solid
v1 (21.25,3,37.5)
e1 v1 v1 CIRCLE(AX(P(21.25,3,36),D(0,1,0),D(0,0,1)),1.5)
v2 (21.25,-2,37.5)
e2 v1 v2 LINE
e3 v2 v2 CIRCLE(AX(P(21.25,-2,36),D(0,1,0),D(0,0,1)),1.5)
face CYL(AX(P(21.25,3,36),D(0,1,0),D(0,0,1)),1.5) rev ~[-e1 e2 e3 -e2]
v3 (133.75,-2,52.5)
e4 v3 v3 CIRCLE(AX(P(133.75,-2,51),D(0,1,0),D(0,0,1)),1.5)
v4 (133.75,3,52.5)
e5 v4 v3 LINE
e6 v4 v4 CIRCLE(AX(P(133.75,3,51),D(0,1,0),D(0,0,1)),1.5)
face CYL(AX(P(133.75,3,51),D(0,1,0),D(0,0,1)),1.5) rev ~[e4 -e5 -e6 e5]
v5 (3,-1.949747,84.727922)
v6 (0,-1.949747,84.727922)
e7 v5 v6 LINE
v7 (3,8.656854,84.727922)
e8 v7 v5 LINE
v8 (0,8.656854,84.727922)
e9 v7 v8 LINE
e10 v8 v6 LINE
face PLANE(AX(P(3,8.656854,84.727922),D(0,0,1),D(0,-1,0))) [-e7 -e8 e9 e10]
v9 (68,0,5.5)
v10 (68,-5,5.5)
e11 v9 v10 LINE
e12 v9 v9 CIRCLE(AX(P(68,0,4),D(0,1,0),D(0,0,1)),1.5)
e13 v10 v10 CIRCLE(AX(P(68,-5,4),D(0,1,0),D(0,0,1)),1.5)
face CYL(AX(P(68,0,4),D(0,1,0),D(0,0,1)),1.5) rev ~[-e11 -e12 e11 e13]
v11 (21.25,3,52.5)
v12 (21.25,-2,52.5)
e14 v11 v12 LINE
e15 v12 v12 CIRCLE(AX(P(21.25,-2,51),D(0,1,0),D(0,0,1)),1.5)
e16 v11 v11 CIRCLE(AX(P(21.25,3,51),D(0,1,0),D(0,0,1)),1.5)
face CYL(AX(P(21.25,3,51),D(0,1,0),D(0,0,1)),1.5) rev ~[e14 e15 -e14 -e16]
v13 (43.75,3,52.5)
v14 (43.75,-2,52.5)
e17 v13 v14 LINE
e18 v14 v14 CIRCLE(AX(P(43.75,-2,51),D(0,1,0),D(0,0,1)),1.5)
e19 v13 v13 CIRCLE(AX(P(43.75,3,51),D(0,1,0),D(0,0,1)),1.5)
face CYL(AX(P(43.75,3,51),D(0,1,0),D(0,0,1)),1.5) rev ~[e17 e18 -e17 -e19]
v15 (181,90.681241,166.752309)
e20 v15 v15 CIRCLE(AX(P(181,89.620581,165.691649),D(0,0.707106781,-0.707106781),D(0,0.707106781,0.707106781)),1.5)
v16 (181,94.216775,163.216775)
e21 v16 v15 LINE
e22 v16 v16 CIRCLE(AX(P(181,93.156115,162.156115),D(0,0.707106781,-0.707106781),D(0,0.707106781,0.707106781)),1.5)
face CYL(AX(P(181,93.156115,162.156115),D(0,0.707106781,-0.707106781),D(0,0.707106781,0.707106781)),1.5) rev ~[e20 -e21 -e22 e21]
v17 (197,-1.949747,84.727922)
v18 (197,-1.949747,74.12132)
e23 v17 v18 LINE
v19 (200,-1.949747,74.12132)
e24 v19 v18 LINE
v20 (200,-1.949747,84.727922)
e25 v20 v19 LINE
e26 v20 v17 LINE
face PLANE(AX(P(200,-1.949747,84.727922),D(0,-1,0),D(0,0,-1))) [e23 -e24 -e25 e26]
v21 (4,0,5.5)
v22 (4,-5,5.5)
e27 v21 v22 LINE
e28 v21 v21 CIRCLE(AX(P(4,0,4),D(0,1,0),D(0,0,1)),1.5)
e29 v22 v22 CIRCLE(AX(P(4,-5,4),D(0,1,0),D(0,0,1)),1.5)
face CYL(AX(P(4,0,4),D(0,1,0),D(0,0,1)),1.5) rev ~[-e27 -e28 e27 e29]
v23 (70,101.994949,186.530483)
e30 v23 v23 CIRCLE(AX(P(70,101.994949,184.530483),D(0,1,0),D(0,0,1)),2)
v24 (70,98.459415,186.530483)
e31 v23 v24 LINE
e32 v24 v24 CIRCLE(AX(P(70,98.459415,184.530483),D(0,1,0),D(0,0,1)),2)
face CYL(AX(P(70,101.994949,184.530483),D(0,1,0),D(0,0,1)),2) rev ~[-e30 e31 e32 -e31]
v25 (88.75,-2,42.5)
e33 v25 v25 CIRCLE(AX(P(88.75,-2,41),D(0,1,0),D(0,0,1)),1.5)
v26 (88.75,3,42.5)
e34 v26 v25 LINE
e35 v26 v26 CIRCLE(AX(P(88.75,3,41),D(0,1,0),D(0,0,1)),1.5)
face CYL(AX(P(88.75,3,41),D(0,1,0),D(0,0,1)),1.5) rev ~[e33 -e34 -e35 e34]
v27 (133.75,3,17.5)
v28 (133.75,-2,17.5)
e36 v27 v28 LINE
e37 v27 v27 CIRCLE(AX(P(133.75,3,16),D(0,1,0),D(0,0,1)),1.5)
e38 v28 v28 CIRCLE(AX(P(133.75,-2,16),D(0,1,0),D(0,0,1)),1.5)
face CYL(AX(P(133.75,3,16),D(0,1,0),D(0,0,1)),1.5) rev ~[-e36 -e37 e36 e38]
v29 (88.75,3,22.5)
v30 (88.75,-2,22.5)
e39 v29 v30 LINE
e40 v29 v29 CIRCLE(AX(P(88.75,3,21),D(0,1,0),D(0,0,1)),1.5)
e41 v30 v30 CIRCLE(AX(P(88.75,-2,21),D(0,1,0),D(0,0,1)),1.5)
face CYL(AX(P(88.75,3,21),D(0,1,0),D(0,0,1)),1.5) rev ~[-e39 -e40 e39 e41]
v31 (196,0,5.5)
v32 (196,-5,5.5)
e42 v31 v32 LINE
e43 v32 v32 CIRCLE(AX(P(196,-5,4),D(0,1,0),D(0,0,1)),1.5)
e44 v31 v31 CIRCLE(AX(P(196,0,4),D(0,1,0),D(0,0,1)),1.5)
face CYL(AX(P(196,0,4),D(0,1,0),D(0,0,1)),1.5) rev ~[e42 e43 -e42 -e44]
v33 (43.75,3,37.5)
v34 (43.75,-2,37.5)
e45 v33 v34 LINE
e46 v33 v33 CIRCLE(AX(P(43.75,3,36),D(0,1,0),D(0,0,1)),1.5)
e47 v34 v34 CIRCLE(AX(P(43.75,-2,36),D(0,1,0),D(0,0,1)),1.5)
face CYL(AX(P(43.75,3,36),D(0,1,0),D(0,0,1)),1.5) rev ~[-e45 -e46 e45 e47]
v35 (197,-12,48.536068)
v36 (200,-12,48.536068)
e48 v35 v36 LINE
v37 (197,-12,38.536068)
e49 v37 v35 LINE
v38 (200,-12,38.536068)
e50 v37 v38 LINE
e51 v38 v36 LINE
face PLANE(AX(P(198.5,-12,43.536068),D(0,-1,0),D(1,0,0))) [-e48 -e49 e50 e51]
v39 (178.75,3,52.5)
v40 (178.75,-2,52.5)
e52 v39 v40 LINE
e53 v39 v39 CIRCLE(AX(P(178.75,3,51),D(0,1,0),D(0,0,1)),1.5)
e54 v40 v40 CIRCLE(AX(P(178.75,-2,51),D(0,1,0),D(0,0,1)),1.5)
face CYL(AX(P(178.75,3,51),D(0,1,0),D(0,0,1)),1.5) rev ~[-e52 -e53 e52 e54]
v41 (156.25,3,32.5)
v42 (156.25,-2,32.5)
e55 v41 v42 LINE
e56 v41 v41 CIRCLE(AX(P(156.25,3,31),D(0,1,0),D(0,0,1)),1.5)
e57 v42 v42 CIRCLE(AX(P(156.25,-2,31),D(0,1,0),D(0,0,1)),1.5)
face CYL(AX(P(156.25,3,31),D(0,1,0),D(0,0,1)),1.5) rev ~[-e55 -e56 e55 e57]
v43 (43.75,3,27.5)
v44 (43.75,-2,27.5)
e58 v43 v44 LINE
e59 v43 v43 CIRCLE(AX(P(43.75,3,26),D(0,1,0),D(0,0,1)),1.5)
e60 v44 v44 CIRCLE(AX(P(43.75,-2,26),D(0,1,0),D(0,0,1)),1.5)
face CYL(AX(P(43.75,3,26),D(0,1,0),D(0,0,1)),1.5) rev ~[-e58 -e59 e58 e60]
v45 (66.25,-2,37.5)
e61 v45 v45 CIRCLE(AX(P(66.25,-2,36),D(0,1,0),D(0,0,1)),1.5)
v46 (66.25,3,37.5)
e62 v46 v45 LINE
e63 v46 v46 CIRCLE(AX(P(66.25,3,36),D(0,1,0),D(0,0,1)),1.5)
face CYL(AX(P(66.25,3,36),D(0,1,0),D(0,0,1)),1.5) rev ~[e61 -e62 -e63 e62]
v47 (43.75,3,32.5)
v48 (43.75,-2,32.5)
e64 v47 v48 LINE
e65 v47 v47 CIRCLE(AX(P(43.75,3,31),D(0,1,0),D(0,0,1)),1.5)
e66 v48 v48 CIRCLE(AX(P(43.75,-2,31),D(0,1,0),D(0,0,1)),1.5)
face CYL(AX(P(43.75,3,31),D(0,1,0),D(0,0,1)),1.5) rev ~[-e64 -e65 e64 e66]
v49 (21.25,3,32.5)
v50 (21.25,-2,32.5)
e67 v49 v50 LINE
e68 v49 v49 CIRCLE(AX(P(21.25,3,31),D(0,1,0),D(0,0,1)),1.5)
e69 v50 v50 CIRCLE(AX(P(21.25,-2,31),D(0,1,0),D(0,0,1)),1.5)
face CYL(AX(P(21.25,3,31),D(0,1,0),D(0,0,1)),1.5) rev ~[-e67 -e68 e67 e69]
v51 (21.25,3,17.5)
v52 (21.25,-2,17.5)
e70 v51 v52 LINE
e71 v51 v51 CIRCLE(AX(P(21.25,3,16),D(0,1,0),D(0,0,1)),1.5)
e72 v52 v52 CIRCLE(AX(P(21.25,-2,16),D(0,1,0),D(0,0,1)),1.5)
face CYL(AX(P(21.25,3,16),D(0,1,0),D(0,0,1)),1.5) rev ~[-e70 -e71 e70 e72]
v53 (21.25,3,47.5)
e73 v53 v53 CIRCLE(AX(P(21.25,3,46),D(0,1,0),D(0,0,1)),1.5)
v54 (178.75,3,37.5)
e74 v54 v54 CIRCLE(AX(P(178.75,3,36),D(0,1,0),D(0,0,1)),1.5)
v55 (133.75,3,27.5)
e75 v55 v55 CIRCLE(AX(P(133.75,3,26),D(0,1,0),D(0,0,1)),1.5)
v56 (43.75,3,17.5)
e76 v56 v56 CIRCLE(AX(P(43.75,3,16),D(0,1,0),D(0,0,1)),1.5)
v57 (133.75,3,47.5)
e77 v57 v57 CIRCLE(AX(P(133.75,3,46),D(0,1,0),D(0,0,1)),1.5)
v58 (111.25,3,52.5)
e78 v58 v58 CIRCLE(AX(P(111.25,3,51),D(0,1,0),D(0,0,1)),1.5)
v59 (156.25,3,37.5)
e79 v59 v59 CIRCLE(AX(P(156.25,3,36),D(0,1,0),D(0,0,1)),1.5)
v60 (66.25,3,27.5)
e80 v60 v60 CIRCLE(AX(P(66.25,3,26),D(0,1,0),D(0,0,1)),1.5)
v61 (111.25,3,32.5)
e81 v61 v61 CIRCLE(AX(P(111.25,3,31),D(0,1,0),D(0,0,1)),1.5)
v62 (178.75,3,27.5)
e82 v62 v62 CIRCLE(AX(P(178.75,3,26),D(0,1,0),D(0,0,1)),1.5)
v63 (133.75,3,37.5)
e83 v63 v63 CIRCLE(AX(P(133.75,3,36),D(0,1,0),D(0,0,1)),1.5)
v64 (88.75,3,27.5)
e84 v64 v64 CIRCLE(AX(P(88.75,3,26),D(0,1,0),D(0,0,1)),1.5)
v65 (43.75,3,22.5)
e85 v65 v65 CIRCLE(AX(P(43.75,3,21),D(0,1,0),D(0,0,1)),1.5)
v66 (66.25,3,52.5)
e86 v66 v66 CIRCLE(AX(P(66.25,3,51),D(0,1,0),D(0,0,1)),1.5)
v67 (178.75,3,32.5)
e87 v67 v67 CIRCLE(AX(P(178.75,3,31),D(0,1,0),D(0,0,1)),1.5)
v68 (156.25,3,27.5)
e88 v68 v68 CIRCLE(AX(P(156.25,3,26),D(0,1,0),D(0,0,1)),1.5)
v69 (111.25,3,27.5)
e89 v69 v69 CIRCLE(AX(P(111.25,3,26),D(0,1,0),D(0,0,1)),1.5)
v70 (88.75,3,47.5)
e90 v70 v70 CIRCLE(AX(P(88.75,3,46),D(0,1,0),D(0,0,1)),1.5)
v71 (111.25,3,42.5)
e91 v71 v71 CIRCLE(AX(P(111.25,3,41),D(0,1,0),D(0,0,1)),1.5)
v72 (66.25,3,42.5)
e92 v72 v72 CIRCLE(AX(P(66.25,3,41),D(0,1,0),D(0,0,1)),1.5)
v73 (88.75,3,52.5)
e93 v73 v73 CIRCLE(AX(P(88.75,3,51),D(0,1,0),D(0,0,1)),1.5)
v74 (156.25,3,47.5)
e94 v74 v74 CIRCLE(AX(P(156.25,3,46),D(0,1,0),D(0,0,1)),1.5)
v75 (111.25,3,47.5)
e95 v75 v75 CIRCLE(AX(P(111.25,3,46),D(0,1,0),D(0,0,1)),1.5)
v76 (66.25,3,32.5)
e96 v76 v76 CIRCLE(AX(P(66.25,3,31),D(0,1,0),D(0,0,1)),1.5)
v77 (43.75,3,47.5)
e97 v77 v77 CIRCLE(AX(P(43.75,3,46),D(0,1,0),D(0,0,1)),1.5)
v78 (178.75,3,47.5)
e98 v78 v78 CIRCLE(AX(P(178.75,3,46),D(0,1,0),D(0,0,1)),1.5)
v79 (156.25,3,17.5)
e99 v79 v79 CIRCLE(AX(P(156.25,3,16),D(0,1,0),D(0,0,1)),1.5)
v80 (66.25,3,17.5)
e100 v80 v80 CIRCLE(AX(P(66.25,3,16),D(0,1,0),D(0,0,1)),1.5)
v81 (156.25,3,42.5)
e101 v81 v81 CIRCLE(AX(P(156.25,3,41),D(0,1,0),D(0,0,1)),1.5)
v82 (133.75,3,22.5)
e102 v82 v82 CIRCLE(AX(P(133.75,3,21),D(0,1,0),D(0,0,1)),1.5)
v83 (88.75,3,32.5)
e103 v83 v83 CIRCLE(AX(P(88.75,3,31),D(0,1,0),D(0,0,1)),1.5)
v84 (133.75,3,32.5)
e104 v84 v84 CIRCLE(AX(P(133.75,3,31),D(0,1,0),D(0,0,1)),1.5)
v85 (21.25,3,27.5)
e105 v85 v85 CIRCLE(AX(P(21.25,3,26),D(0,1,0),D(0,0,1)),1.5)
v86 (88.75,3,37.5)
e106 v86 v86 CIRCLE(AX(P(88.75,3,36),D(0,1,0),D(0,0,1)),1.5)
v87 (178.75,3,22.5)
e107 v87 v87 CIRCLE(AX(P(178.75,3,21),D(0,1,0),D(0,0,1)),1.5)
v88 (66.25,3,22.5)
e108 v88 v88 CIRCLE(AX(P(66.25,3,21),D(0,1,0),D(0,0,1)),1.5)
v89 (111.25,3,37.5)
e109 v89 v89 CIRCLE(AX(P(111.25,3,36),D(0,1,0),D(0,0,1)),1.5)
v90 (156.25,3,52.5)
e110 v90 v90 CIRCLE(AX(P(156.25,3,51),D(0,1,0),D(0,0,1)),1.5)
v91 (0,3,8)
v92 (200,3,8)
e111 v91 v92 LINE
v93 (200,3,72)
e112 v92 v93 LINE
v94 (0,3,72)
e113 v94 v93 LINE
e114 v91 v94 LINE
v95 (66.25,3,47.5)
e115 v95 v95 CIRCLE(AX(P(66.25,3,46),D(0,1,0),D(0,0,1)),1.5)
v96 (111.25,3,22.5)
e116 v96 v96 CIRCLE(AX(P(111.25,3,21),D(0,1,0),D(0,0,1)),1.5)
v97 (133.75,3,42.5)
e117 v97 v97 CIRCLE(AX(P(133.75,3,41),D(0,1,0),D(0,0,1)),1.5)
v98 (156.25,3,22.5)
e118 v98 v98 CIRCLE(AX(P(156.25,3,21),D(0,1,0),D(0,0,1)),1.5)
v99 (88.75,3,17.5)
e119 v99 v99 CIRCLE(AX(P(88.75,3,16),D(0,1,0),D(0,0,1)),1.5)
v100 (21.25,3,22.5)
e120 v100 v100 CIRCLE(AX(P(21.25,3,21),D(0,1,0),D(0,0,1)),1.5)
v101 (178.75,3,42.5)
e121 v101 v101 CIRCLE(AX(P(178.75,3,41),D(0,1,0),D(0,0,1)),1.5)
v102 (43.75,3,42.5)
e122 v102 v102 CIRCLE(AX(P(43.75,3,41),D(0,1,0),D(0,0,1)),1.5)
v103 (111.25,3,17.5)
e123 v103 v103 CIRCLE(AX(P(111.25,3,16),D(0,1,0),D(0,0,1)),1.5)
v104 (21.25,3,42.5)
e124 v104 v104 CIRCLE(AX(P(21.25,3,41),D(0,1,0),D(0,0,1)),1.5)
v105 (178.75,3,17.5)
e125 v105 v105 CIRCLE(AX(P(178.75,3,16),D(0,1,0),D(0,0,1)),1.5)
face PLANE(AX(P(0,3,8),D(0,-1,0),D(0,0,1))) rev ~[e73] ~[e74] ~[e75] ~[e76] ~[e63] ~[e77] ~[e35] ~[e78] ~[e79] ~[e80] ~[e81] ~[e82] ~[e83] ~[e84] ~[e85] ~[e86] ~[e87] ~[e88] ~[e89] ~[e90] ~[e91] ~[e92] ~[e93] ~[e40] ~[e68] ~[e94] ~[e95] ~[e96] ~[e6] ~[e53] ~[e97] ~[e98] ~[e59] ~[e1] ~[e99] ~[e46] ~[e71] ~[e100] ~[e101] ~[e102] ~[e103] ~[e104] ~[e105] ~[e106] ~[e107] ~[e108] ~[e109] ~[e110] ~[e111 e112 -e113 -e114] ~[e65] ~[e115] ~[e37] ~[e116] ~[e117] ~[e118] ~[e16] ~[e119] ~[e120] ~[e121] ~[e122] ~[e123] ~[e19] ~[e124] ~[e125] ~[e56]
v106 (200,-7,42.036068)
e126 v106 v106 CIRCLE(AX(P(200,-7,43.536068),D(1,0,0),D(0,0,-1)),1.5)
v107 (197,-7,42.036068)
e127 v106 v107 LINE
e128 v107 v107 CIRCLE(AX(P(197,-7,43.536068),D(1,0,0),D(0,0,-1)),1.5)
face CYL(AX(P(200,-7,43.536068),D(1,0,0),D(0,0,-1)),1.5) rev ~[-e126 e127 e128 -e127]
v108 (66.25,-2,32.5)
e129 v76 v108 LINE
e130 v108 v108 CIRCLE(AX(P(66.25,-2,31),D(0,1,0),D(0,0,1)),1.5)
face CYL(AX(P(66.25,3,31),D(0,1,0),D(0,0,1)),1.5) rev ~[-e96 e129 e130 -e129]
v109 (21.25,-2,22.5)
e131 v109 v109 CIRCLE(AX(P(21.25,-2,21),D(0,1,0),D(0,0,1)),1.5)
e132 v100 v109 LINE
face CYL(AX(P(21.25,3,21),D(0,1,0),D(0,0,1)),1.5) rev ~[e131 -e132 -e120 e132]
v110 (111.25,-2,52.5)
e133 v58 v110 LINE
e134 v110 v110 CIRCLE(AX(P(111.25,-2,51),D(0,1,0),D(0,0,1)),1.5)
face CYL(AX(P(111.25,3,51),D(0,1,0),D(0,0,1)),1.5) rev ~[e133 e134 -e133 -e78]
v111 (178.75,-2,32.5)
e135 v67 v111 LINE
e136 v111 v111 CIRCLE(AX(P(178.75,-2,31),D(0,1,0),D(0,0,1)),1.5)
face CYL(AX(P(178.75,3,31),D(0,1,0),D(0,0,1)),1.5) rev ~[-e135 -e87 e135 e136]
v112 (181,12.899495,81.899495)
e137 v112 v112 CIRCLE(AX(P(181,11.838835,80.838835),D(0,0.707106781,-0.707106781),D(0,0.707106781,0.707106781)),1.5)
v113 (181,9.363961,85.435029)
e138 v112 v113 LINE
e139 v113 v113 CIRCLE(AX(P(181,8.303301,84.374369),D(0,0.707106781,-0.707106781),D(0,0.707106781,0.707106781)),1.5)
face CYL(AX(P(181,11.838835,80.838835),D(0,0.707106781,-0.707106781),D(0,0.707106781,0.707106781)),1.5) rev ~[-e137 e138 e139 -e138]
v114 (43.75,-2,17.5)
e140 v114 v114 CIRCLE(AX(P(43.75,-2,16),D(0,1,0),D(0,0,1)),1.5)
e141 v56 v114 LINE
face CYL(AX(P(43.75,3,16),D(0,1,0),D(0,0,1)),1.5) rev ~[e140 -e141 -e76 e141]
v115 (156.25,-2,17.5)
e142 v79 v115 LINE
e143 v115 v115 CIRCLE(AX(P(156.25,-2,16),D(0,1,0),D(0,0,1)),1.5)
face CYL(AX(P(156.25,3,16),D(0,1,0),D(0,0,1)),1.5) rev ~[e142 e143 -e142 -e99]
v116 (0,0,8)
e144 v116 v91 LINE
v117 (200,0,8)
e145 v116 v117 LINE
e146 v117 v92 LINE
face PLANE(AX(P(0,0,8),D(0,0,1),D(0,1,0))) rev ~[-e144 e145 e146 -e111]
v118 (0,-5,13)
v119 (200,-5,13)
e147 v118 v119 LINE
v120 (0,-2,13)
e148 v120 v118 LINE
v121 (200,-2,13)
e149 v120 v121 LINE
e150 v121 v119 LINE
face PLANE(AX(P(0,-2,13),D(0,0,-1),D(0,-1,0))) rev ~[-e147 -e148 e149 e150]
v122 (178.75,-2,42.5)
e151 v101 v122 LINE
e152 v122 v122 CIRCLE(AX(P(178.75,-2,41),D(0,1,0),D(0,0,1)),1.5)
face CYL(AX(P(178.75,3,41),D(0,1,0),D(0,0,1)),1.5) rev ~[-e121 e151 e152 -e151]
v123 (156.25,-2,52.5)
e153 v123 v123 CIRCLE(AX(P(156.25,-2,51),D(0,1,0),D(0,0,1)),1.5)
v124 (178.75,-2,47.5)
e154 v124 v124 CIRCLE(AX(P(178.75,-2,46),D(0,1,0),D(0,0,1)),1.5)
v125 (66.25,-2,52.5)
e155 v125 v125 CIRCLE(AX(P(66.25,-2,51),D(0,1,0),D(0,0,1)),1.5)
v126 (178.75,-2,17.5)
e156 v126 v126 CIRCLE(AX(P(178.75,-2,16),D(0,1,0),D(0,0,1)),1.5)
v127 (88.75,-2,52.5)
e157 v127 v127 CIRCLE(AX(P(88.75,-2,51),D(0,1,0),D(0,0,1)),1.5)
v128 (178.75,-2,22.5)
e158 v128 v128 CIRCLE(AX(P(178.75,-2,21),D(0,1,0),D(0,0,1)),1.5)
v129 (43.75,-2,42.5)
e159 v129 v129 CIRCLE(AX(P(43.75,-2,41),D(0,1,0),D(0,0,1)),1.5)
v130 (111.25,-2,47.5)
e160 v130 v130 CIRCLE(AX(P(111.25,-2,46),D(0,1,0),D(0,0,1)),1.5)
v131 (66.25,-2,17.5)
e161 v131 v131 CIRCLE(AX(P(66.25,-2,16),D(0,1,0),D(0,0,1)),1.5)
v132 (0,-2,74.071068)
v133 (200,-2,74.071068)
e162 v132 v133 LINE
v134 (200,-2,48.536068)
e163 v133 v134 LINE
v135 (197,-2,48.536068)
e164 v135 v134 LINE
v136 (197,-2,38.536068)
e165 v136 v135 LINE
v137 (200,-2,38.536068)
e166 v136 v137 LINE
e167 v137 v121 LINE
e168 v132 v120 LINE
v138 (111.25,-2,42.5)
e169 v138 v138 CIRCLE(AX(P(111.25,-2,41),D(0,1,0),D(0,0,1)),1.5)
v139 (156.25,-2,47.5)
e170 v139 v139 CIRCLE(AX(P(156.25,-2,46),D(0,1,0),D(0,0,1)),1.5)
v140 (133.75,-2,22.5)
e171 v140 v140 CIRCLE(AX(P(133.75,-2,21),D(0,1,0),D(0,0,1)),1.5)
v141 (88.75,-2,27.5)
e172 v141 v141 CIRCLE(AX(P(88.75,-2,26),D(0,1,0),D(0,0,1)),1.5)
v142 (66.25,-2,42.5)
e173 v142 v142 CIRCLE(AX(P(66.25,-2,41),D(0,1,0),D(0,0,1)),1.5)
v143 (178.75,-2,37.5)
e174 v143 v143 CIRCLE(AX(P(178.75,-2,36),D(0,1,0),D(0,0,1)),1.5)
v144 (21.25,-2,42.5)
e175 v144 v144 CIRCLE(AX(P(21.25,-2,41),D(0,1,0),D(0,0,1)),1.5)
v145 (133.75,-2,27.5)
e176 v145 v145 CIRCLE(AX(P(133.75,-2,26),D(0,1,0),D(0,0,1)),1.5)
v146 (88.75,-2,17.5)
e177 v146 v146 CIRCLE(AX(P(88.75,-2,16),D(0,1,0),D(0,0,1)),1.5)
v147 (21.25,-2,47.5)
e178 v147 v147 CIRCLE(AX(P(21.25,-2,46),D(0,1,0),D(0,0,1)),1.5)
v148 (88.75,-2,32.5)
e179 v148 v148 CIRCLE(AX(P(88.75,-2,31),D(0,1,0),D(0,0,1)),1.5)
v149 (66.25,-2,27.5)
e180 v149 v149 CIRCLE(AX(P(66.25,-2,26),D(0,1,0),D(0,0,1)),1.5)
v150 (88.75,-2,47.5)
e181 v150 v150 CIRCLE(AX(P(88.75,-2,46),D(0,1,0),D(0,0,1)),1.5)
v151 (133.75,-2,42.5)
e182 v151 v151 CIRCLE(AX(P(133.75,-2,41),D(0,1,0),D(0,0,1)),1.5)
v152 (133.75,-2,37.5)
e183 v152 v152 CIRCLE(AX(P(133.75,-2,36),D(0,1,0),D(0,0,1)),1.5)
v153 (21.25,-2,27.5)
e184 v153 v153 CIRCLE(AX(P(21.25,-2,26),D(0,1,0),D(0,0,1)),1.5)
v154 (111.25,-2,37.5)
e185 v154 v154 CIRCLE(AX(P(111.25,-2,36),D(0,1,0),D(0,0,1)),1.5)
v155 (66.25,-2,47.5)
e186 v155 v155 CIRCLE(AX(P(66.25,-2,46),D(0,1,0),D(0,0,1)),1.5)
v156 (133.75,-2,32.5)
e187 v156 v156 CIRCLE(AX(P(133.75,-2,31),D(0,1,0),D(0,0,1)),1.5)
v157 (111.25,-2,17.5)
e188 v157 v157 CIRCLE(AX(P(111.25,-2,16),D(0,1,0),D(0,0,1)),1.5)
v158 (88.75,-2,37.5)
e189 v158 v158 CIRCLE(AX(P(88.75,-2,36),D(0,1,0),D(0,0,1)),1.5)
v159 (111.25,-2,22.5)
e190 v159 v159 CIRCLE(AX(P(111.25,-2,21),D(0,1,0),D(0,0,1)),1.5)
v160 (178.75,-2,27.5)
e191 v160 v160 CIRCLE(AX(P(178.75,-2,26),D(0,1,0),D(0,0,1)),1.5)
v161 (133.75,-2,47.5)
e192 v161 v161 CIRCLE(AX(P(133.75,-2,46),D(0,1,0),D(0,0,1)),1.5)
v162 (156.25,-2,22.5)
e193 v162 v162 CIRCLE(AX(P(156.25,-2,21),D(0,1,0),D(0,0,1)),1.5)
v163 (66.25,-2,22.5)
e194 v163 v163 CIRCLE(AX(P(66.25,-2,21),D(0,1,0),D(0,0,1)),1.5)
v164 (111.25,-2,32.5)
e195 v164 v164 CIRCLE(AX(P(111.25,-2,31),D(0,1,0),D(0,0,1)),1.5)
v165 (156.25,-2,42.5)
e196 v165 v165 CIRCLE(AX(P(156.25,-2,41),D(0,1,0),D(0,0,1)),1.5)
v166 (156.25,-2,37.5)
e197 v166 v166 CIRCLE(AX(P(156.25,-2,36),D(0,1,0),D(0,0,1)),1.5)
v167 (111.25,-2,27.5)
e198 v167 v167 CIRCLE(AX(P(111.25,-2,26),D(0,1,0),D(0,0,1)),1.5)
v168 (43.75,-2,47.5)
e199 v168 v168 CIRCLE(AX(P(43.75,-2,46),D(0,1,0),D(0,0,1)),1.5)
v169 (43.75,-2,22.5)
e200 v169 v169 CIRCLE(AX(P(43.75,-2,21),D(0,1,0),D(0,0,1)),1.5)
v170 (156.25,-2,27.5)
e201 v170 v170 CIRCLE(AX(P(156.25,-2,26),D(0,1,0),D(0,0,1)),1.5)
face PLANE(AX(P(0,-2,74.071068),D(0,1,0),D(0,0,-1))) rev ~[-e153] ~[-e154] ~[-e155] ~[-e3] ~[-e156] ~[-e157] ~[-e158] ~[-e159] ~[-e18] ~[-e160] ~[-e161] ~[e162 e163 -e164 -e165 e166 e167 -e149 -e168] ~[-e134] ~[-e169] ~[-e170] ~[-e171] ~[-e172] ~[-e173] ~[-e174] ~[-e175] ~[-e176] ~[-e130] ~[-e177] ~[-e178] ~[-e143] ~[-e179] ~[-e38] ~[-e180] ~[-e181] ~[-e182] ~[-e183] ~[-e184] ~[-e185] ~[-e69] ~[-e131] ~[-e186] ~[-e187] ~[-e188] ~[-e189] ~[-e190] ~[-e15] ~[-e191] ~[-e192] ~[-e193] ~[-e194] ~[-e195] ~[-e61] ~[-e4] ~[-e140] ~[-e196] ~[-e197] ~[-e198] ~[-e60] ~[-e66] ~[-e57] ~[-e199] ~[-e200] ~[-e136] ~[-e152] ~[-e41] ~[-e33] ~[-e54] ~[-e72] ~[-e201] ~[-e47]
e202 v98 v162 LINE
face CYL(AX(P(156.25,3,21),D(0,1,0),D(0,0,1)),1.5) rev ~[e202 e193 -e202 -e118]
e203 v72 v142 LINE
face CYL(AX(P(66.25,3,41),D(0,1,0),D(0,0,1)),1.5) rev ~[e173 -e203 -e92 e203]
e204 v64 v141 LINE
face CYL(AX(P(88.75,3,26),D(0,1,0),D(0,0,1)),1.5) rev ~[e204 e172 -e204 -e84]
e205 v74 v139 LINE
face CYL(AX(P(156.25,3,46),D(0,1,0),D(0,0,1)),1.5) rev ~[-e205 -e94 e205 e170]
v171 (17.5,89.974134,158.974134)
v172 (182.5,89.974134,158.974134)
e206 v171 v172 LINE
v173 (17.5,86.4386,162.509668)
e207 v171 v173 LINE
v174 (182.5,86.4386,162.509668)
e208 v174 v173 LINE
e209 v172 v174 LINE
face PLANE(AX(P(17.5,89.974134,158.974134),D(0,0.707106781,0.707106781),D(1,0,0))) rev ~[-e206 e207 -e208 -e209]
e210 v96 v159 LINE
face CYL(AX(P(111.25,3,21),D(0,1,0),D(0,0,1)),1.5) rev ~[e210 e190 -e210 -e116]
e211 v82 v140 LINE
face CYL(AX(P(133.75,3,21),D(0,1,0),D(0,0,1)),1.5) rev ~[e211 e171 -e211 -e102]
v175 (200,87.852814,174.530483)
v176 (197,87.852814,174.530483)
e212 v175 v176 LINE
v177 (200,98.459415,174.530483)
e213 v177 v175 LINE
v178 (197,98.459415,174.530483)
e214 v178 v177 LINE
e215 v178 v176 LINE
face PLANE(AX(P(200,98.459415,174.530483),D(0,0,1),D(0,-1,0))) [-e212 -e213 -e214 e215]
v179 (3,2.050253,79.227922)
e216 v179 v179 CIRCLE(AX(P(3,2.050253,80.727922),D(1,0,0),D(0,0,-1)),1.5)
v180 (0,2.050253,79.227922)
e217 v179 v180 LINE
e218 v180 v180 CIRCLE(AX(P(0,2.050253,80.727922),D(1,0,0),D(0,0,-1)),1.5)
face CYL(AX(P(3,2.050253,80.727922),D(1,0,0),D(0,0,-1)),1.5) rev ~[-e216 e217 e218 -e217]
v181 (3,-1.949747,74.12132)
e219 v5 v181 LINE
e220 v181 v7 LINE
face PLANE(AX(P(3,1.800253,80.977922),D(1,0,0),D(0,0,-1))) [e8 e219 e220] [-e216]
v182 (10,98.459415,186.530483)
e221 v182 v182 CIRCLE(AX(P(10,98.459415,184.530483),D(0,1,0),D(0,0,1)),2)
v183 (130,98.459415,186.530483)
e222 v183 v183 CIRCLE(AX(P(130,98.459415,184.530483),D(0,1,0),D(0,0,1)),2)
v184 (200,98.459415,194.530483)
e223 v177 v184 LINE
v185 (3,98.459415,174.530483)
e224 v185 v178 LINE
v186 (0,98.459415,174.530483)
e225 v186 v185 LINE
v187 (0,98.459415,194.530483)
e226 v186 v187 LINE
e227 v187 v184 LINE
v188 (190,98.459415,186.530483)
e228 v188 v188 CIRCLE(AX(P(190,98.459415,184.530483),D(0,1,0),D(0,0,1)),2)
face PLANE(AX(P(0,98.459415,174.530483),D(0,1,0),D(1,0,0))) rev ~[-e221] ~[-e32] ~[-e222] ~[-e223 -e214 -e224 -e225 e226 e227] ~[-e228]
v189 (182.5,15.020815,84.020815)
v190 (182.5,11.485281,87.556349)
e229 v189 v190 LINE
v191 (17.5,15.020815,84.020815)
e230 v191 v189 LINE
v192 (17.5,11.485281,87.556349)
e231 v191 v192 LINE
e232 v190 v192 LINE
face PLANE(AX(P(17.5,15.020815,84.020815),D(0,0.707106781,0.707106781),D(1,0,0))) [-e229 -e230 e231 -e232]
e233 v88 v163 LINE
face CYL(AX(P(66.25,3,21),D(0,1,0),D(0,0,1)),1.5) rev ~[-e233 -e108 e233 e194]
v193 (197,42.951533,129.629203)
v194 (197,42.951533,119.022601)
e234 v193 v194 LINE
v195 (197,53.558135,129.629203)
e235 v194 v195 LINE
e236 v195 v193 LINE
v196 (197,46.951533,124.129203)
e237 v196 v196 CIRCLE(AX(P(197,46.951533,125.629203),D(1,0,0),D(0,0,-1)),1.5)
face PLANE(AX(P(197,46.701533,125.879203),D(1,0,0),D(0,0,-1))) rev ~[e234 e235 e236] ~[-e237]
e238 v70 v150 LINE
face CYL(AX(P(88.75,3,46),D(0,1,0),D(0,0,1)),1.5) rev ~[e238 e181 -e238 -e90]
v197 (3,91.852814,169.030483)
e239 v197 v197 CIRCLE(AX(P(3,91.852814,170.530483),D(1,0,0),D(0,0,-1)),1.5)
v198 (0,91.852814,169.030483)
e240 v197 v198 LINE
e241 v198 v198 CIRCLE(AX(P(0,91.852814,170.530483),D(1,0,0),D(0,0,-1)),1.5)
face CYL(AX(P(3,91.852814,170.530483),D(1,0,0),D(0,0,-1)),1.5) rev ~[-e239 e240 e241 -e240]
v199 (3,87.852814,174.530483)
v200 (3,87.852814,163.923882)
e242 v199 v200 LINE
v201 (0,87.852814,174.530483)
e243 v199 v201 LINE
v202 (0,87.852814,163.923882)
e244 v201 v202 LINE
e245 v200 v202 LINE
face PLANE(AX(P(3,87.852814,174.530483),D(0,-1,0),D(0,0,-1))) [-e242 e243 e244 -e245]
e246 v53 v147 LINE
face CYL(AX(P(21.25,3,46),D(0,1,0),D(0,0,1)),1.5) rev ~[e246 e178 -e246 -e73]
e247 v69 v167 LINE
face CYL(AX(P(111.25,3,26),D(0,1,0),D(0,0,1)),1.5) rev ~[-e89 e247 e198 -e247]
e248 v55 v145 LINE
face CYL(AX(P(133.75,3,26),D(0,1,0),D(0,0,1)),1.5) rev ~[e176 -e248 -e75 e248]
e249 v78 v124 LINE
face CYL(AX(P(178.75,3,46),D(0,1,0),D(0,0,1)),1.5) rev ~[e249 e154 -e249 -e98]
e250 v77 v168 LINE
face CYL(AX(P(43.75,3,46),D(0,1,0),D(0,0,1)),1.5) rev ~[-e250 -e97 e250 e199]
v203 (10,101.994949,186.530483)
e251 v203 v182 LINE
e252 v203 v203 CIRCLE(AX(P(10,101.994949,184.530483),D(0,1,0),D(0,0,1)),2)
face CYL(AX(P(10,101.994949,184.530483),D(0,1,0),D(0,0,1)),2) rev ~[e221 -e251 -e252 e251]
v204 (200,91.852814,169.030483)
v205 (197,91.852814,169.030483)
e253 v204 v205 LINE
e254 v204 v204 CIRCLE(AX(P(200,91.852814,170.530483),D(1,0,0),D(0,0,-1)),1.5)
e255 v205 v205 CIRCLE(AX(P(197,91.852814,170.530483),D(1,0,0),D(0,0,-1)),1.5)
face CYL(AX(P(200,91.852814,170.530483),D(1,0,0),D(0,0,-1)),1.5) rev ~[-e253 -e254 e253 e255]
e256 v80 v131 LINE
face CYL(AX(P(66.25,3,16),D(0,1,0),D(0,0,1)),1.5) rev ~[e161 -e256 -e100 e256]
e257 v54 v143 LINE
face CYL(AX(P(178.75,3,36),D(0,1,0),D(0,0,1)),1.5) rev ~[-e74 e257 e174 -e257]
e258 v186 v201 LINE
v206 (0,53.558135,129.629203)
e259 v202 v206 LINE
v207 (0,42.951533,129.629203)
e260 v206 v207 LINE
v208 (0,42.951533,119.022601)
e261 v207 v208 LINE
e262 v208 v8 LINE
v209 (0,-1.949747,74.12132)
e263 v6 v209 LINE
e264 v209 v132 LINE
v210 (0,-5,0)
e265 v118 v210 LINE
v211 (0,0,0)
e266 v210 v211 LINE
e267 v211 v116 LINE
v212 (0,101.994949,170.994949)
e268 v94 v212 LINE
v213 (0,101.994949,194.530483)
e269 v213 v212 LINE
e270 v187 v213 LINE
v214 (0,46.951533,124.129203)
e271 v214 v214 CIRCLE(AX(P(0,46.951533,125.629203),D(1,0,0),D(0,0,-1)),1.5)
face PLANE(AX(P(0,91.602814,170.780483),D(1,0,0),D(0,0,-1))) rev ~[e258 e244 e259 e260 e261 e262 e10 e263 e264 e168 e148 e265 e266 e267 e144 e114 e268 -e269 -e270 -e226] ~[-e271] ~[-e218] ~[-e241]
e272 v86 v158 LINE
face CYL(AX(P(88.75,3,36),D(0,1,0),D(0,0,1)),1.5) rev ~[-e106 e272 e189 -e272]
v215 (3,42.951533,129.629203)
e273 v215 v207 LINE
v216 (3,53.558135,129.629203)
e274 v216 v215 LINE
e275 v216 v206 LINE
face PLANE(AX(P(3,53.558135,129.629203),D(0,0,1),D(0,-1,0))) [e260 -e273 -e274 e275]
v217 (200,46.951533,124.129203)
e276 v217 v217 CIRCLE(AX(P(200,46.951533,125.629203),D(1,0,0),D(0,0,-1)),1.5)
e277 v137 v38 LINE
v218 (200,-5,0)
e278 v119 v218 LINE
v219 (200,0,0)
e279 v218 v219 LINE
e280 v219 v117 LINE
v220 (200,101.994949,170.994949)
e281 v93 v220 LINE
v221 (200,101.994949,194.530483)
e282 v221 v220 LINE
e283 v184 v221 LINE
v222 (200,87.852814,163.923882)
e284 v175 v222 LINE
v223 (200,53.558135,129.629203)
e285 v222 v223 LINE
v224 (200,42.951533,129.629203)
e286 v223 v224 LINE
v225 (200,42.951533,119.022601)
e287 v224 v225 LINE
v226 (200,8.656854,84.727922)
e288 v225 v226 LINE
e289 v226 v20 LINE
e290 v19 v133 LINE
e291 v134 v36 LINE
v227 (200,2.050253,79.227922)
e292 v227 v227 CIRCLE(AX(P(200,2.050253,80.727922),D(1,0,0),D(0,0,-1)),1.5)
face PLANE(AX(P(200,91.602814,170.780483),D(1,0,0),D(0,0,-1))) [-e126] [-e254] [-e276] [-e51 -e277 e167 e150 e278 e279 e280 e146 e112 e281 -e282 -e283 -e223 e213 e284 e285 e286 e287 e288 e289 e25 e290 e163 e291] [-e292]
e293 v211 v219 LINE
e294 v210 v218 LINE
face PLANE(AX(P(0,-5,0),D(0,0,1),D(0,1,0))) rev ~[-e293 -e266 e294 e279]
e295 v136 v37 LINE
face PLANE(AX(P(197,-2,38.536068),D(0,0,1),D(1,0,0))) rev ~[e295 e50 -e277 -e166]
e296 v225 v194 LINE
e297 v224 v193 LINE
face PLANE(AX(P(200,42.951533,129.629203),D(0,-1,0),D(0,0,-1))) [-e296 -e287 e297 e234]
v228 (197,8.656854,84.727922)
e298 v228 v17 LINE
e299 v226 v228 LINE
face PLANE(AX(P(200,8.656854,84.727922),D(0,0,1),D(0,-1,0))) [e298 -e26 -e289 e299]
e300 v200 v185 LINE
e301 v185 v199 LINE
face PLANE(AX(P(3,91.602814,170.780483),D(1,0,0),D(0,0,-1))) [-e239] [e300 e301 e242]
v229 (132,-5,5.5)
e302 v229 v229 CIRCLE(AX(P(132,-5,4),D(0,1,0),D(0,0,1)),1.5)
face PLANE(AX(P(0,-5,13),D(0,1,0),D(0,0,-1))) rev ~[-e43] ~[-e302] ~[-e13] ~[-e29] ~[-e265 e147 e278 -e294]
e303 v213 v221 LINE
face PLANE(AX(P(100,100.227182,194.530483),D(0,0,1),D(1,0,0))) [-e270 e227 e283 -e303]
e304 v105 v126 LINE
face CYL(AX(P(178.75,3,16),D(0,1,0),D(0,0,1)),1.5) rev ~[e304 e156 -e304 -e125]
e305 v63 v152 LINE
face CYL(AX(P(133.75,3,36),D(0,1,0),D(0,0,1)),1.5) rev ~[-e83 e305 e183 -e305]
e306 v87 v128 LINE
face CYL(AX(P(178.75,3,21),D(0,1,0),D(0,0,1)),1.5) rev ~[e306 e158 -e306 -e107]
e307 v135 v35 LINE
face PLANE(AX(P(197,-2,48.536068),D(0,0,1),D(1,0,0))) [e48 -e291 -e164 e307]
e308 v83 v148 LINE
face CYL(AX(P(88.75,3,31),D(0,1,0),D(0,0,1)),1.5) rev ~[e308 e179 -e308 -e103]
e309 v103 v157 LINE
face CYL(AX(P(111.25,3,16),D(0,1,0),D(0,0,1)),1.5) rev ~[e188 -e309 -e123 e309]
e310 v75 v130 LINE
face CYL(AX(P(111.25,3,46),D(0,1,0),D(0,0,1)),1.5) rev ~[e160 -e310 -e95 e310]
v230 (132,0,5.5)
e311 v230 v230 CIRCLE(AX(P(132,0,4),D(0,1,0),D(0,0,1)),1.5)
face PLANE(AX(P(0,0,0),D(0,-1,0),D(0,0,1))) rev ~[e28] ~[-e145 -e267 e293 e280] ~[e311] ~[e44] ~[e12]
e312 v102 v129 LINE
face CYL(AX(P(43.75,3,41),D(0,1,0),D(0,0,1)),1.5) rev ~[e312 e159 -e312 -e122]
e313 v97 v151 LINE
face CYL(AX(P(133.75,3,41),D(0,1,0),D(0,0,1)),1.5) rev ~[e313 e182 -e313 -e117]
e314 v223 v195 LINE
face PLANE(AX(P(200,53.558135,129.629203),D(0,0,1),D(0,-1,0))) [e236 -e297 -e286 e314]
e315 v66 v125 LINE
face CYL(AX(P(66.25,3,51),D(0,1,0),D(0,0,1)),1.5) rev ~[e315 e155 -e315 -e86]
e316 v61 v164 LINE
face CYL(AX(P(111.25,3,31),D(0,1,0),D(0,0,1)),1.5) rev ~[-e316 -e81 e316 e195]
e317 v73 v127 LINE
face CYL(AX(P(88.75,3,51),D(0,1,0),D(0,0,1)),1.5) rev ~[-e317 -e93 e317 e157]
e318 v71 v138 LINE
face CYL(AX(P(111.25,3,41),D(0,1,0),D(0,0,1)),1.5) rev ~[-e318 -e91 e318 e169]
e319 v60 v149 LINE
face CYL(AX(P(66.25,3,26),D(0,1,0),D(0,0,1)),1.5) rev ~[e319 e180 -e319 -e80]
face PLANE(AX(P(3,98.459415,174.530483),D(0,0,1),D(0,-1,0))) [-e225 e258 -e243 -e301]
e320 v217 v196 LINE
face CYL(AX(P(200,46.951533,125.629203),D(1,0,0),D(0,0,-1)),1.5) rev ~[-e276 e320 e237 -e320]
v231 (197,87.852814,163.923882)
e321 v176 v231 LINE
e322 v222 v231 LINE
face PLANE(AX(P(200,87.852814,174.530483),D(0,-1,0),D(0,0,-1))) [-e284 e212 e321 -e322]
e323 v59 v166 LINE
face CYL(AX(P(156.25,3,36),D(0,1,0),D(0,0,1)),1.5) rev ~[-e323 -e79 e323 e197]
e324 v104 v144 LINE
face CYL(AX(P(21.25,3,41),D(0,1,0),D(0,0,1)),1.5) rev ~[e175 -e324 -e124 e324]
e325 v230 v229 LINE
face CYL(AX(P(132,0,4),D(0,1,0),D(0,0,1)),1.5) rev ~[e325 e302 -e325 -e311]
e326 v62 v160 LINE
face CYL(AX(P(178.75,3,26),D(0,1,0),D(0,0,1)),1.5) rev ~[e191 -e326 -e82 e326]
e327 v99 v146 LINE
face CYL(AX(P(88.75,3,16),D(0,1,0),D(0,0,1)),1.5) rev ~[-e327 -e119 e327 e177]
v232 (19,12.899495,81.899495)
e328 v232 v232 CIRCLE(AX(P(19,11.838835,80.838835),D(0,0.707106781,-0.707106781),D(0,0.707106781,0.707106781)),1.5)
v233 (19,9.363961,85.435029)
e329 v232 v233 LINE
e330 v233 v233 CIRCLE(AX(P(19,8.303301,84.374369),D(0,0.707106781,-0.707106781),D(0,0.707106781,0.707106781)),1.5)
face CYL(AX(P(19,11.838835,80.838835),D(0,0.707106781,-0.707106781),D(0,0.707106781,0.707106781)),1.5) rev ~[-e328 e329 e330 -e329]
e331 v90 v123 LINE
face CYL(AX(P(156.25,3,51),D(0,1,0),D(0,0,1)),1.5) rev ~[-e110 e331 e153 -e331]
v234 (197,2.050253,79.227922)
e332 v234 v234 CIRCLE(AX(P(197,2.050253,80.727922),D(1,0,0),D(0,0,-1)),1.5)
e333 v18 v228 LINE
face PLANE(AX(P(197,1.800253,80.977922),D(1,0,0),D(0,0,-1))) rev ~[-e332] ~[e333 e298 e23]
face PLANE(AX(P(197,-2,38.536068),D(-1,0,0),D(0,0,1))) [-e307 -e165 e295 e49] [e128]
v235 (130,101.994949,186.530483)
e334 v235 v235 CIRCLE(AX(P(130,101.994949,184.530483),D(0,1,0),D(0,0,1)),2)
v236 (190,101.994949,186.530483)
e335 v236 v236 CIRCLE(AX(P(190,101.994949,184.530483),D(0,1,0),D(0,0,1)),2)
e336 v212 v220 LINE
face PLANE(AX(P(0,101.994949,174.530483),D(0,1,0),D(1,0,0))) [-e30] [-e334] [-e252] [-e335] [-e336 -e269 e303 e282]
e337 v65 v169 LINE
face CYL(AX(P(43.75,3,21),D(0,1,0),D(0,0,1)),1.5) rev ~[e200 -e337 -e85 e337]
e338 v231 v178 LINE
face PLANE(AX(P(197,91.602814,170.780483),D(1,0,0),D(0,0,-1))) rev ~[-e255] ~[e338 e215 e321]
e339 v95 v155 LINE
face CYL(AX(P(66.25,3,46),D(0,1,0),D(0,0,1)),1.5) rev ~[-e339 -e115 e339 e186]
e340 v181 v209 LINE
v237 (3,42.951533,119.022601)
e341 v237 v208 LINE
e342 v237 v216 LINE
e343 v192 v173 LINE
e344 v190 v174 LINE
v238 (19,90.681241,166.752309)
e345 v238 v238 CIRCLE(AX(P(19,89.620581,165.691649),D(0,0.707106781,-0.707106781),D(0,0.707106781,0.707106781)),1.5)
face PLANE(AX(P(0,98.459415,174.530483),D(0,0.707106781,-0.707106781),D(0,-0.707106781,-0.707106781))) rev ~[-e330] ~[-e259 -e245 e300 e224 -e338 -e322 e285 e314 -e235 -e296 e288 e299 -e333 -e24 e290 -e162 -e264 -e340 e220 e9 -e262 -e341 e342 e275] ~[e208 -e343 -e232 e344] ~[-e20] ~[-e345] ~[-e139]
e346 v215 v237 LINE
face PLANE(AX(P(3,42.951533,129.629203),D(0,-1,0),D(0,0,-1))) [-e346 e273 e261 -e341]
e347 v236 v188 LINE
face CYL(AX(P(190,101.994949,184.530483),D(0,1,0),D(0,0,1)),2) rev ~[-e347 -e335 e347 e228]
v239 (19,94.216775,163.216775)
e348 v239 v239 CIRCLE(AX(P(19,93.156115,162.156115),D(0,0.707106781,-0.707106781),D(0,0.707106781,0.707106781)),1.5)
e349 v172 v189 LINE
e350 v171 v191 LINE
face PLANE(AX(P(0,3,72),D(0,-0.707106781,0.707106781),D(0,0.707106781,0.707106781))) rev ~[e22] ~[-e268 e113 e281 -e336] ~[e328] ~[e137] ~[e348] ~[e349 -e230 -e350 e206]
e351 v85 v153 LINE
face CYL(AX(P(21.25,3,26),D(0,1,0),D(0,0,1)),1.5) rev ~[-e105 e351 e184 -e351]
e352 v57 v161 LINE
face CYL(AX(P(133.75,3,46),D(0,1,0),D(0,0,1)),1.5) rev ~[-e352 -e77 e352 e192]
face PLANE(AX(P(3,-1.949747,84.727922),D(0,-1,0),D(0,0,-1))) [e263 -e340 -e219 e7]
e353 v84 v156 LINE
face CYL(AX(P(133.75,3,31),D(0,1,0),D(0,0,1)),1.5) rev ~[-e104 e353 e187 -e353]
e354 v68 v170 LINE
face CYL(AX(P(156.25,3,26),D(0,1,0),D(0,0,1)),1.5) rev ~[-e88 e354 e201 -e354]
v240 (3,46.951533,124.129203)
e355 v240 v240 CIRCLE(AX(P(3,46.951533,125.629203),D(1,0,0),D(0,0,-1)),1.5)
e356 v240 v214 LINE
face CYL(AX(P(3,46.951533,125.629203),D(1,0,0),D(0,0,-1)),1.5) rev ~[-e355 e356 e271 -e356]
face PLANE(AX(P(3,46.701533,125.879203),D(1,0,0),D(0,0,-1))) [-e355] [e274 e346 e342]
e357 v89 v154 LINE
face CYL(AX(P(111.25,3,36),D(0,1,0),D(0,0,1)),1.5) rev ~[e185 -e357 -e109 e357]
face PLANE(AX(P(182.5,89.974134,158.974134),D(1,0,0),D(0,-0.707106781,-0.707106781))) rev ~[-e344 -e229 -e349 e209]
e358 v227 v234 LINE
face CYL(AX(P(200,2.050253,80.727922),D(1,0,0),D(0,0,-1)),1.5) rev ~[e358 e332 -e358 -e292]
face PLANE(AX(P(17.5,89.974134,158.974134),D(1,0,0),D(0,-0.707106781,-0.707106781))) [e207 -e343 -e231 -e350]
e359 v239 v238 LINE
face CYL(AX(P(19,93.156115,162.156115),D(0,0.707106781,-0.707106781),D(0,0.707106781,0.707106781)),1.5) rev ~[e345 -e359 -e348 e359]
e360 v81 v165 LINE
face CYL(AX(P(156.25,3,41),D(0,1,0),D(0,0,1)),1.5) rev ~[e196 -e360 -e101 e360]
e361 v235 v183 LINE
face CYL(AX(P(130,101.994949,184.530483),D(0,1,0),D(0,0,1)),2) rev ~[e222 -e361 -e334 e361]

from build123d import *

# Parameters (mm, degrees)
EXTRUDE_THIN2_DEPTH  = 200
CUT_EXTRUDE2_REACH   = 285.304
SKETCH6_R            = 1.5
LPATTERN1_COUNT      = 8
LPATTERN1_PITCH      = 5
LPATTERN1_COUNT_DIR2 = 8
LPATTERN1_PITCH_DIR2 = 22.5
CUT_EXTRUDE3_REACH   = 286.366
SKETCH7_R            = 1.5
LPATTERN2_COUNT      = 4
LPATTERN2_PITCH      = 64
CUT_EXTRUDE4_REACH   = 281.713
SKETCH8_R            = 1.5
SKETCH8_W            = 165
SKETCH8_H            = 106
BOSS_EXTRUDE1_DEPTH  = 200
SKETCH10_W           = 200
SKETCH10_H           = 3.535533906
BOSS_EXTRUDE2_DEPTH  = 20
CUT_EXTRUDE5_REACH   = 300.814
SKETCH11_R           = 2
LPATTERN3_COUNT      = 4
LPATTERN3_PITCH      = 60
BOSS_EXTRUDE3_DEPTH  = 3
CUT_EXTRUDE6_REACH   = 299.061
SKETCH13_R           = 1.5
LPATTERN4_COUNT      = 3
LPATTERN4_PITCH      = 63.5
LPATTERN4_COUNT_DIR2 = 2
LPATTERN4_PITCH_DIR2 = 197
SKETCH16_W           = 3
SKETCH16_H           = 10
BOSS_EXTRUDE4_DEPTH  = 10
CUT_EXTRUDE7_REACH   = 299.061
SKETCH17_R           = 1.5


with BuildPart() as part:
    # Sketch4 → Extrude-Thin2 (new body)
    with BuildSketch(Plane(origin=(0, 0, 0), x_dir=(0, 0, -1), z_dir=(1, 0, 0))):
        Polygon((0, 0), (-8, 0), (-8, 3), (-72, 3), (-170.994949366, 101.994949366), (-174.530483272, 98.45941546), (-74.071067812, -2), (-13, -2), (-13, -5), (0, -5), align=None)
    extrude(amount=EXTRUDE_THIN2_DEPTH)

    # Sketch6 → Cut-Extrude2 (cut, up to next)
    with BuildSketch(Plane(origin=(0, 3, 0), x_dir=(1, 0, 0), z_dir=(0, 1, 0)), mode=Mode.PRIVATE) as cut_extrude2_sk1:
        with Locations(Location((178.75, -16, 0), (0, 0, 270))):
            Circle(SKETCH6_R)
    cut_extrude2_tool1 = extrude(cut_extrude2_sk1.sketch, amount=-CUT_EXTRUDE2_REACH, mode=Mode.PRIVATE) & part.part
    cut_extrude2 = cut_extrude2_tool1.solids().sort_by_distance((178.75, 3, 16))[0]
    add(cut_extrude2, mode=Mode.SUBTRACT)

    # LPattern1: Cut-Extrude2 8 × 8
    with Locations(*[(-j * LPATTERN1_PITCH_DIR2, 0, i * LPATTERN1_PITCH) for i in range(LPATTERN1_COUNT) for j in range(LPATTERN1_COUNT_DIR2) if (i, j) != (0, 0)]):
        add(cut_extrude2, mode=Mode.SUBTRACT)

    # Sketch7 → Cut-Extrude3 (cut, up to next)
    with BuildSketch(Plane(origin=(0, 0, 0), x_dir=(1, 0, 0), z_dir=(0, 1, 0)), mode=Mode.PRIVATE) as cut_extrude3_sk1:
        with Locations(Location((196, -4, 0), (0, 0, 270))):
            Circle(SKETCH7_R)
    cut_extrude3_tool1 = extrude(cut_extrude3_sk1.sketch, amount=-CUT_EXTRUDE3_REACH, mode=Mode.PRIVATE) & part.part
    cut_extrude3 = cut_extrude3_tool1.solids().sort_by_distance((196, 0, 4))[0]
    add(cut_extrude3, mode=Mode.SUBTRACT)

    # LPattern2: Cut-Extrude3 ×4
    with Locations(*[(-i * LPATTERN2_PITCH, 0, 0) for i in range(1, LPATTERN2_COUNT)]):
        add(cut_extrude3, mode=Mode.SUBTRACT)

    # Sketch8 → Cut-Extrude4 (cut, up to next)
    with BuildSketch(Plane(origin=(0, -34.5, 34.5), x_dir=(1, 0, 0), z_dir=(0, 0.7071067811865465, -0.7071067811865486)), mode=Mode.PRIVATE) as cut_extrude4_sk1:
        with Locations(Location((19, -180.533008589, 0), (0, 0, 270))):
            Circle(SKETCH8_R)
    cut_extrude4_tool1 = extrude(cut_extrude4_sk1.sketch, amount=-CUT_EXTRUDE4_REACH, mode=Mode.PRIVATE) & part.part
    # Sketch8 → Cut-Extrude4 (cut, up to next)
    with BuildSketch(Plane(origin=(0, -34.5, 34.5), x_dir=(1, 0, 0), z_dir=(0, 0.7071067811865465, -0.7071067811865486)), mode=Mode.PRIVATE) as cut_extrude4_sk2:
        with Locations(Location((19, -65.533008589, 0), (0, 0, 270))):
            Circle(SKETCH8_R)
    cut_extrude4_tool2 = extrude(cut_extrude4_sk2.sketch, amount=-CUT_EXTRUDE4_REACH, mode=Mode.PRIVATE) & part.part
    # Sketch8 → Cut-Extrude4 (cut, up to next)
    with BuildSketch(Plane(origin=(0, -34.5, 34.5), x_dir=(1, 0, 0), z_dir=(0, 0.7071067811865465, -0.7071067811865486)), mode=Mode.PRIVATE) as cut_extrude4_sk3:
        with Locations(Location((181, -65.533008589, 0), (0, 0, 270))):
            Circle(SKETCH8_R)
    cut_extrude4_tool3 = extrude(cut_extrude4_sk3.sketch, amount=-CUT_EXTRUDE4_REACH, mode=Mode.PRIVATE) & part.part
    # Sketch8 → Cut-Extrude4 (cut, up to next)
    with BuildSketch(Plane(origin=(0, -34.5, 34.5), x_dir=(1, 0, 0), z_dir=(0, 0.7071067811865465, -0.7071067811865486)), mode=Mode.PRIVATE) as cut_extrude4_sk4:
        with Locations(Location((181, -180.533008589, 0), (0, 0, 270))):
            Circle(SKETCH8_R)
    cut_extrude4_tool4 = extrude(cut_extrude4_sk4.sketch, amount=-CUT_EXTRUDE4_REACH, mode=Mode.PRIVATE) & part.part
    # Sketch8 → Cut-Extrude4 (cut, up to next)
    with BuildSketch(Plane(origin=(0, -34.5, 34.5), x_dir=(1, 0, 0), z_dir=(0, 0.7071067811865465, -0.7071067811865486)), mode=Mode.PRIVATE) as cut_extrude4_sk5:
        with Locations((100, -123.033008589)):
            Rectangle(SKETCH8_W, SKETCH8_H)
    cut_extrude4_tool5 = extrude(cut_extrude4_sk5.sketch, amount=-CUT_EXTRUDE4_REACH, mode=Mode.PRIVATE) & part.part
    add(cut_extrude4_tool1.solids().sort_by_distance((19, 93.156115, 162.156115))[0], mode=Mode.SUBTRACT)
    add(cut_extrude4_tool2.solids().sort_by_distance((19, 11.838835, 80.838835))[0], mode=Mode.SUBTRACT)
    add(cut_extrude4_tool3.solids().sort_by_distance((181, 11.838835, 80.838835))[0], mode=Mode.SUBTRACT)
    add(cut_extrude4_tool4.solids().sort_by_distance((181, 93.156115, 162.156115))[0], mode=Mode.SUBTRACT)
    add(cut_extrude4_tool5.solids().sort_by_distance((100, 52.497475, 121.497475))[0], mode=Mode.SUBTRACT)

    # Sketch9 → Boss-Extrude1 (add)
    with BuildSketch(Plane(origin=(200, 0, 0), x_dir=(0, 0, -1), z_dir=(1, 0, 0))):
        Polygon((-170.994949366, 101.994949366), (-174.530483272, 101.994949366), (-174.530483272, 98.45941546), align=None)
    extrude(amount=-BOSS_EXTRUDE1_DEPTH)

    # Sketch10 → Boss-Extrude2 (add)
    with BuildSketch(Plane.XY.offset(174.530483272)):
        with Locations((100, 100.227182413)):
            Rectangle(SKETCH10_W, SKETCH10_H)
    extrude(amount=BOSS_EXTRUDE2_DEPTH)

    # Sketch11 → Cut-Extrude5 (cut, up to next)
    with BuildSketch(Plane(origin=(0, 101.994949366, 0), x_dir=(1, 0, 0), z_dir=(0, 1, 0)), mode=Mode.PRIVATE) as cut_extrude5_sk1:
        with Locations(Location((190, -184.530483272, 0), (0, 0, 270))):
            Circle(SKETCH11_R)
    cut_extrude5_tool1 = extrude(cut_extrude5_sk1.sketch, amount=-CUT_EXTRUDE5_REACH, mode=Mode.PRIVATE) & part.part
    cut_extrude5 = cut_extrude5_tool1.solids().sort_by_distance((190, 101.994949, 184.530483))[0]
    add(cut_extrude5, mode=Mode.SUBTRACT)

    # LPattern3: Cut-Extrude5 ×4
    with Locations(*[(-i * LPATTERN3_PITCH, 0, 0) for i in range(1, LPATTERN3_COUNT)]):
        add(cut_extrude5, mode=Mode.SUBTRACT)

    # Sketch12 → Boss-Extrude3 (add)
    with BuildSketch(Plane(origin=(200, 0, 0), x_dir=(0, 0, -1), z_dir=(1, 0, 0))):
        Polygon((-174.530483272, 98.45941546), (-174.530483272, 87.852813742), (-163.923881554, 87.852813742), align=None)
    boss_extrude3 = extrude(amount=-BOSS_EXTRUDE3_DEPTH)

    # Sketch13 → Cut-Extrude6 (cut, up to next)
    with BuildSketch(Plane(origin=(200, 0, 0), x_dir=(0, 0, -1), z_dir=(1, 0, 0)), mode=Mode.PRIVATE) as cut_extrude6_sk1:
        with Locations((-170.530483272, 91.852813742)):
            Circle(SKETCH13_R)
    cut_extrude6_tool1 = extrude(cut_extrude6_sk1.sketch, amount=-CUT_EXTRUDE6_REACH, mode=Mode.PRIVATE) & part.part
    cut_extrude6 = cut_extrude6_tool1.solids().sort_by_distance((200, 91.852814, 170.530483))[0]
    add(cut_extrude6, mode=Mode.SUBTRACT)

    # LPattern4: Boss-Extrude3, Cut-Extrude6 3 × 2
    with Locations(*[Vector(0, -0.7071067811865724, -0.7071067811865227) * (i * LPATTERN4_PITCH) + Vector(-1, 0, 0) * (j * LPATTERN4_PITCH_DIR2) for i in range(LPATTERN4_COUNT) for j in range(LPATTERN4_COUNT_DIR2) if (i, j) != (0, 0)]):
        add(boss_extrude3)
        add(cut_extrude6, mode=Mode.SUBTRACT)

    # Sketch16 → Boss-Extrude4 (add)
    with BuildSketch(Plane.XZ.offset(2)):
        with Locations((198.5, 43.536067812)):
            Rectangle(SKETCH16_W, SKETCH16_H)
    extrude(amount=BOSS_EXTRUDE4_DEPTH)

    # Sketch17 → Cut-Extrude7 (cut, up to next)
    with BuildSketch(Plane(origin=(200, 0, 0), x_dir=(0, 0, -1), z_dir=(1, 0, 0)), mode=Mode.PRIVATE) as cut_extrude7_sk1:
        with Locations((-43.536067812, -7)):
            Circle(SKETCH17_R)
    cut_extrude7_tool1 = extrude(cut_extrude7_sk1.sketch, amount=-CUT_EXTRUDE7_REACH, mode=Mode.PRIVATE) & part.part
    add(cut_extrude7_tool1.solids().sort_by_distance((200, -7, 43.536068))[0], mode=Mode.SUBTRACT)


solid = part.part
